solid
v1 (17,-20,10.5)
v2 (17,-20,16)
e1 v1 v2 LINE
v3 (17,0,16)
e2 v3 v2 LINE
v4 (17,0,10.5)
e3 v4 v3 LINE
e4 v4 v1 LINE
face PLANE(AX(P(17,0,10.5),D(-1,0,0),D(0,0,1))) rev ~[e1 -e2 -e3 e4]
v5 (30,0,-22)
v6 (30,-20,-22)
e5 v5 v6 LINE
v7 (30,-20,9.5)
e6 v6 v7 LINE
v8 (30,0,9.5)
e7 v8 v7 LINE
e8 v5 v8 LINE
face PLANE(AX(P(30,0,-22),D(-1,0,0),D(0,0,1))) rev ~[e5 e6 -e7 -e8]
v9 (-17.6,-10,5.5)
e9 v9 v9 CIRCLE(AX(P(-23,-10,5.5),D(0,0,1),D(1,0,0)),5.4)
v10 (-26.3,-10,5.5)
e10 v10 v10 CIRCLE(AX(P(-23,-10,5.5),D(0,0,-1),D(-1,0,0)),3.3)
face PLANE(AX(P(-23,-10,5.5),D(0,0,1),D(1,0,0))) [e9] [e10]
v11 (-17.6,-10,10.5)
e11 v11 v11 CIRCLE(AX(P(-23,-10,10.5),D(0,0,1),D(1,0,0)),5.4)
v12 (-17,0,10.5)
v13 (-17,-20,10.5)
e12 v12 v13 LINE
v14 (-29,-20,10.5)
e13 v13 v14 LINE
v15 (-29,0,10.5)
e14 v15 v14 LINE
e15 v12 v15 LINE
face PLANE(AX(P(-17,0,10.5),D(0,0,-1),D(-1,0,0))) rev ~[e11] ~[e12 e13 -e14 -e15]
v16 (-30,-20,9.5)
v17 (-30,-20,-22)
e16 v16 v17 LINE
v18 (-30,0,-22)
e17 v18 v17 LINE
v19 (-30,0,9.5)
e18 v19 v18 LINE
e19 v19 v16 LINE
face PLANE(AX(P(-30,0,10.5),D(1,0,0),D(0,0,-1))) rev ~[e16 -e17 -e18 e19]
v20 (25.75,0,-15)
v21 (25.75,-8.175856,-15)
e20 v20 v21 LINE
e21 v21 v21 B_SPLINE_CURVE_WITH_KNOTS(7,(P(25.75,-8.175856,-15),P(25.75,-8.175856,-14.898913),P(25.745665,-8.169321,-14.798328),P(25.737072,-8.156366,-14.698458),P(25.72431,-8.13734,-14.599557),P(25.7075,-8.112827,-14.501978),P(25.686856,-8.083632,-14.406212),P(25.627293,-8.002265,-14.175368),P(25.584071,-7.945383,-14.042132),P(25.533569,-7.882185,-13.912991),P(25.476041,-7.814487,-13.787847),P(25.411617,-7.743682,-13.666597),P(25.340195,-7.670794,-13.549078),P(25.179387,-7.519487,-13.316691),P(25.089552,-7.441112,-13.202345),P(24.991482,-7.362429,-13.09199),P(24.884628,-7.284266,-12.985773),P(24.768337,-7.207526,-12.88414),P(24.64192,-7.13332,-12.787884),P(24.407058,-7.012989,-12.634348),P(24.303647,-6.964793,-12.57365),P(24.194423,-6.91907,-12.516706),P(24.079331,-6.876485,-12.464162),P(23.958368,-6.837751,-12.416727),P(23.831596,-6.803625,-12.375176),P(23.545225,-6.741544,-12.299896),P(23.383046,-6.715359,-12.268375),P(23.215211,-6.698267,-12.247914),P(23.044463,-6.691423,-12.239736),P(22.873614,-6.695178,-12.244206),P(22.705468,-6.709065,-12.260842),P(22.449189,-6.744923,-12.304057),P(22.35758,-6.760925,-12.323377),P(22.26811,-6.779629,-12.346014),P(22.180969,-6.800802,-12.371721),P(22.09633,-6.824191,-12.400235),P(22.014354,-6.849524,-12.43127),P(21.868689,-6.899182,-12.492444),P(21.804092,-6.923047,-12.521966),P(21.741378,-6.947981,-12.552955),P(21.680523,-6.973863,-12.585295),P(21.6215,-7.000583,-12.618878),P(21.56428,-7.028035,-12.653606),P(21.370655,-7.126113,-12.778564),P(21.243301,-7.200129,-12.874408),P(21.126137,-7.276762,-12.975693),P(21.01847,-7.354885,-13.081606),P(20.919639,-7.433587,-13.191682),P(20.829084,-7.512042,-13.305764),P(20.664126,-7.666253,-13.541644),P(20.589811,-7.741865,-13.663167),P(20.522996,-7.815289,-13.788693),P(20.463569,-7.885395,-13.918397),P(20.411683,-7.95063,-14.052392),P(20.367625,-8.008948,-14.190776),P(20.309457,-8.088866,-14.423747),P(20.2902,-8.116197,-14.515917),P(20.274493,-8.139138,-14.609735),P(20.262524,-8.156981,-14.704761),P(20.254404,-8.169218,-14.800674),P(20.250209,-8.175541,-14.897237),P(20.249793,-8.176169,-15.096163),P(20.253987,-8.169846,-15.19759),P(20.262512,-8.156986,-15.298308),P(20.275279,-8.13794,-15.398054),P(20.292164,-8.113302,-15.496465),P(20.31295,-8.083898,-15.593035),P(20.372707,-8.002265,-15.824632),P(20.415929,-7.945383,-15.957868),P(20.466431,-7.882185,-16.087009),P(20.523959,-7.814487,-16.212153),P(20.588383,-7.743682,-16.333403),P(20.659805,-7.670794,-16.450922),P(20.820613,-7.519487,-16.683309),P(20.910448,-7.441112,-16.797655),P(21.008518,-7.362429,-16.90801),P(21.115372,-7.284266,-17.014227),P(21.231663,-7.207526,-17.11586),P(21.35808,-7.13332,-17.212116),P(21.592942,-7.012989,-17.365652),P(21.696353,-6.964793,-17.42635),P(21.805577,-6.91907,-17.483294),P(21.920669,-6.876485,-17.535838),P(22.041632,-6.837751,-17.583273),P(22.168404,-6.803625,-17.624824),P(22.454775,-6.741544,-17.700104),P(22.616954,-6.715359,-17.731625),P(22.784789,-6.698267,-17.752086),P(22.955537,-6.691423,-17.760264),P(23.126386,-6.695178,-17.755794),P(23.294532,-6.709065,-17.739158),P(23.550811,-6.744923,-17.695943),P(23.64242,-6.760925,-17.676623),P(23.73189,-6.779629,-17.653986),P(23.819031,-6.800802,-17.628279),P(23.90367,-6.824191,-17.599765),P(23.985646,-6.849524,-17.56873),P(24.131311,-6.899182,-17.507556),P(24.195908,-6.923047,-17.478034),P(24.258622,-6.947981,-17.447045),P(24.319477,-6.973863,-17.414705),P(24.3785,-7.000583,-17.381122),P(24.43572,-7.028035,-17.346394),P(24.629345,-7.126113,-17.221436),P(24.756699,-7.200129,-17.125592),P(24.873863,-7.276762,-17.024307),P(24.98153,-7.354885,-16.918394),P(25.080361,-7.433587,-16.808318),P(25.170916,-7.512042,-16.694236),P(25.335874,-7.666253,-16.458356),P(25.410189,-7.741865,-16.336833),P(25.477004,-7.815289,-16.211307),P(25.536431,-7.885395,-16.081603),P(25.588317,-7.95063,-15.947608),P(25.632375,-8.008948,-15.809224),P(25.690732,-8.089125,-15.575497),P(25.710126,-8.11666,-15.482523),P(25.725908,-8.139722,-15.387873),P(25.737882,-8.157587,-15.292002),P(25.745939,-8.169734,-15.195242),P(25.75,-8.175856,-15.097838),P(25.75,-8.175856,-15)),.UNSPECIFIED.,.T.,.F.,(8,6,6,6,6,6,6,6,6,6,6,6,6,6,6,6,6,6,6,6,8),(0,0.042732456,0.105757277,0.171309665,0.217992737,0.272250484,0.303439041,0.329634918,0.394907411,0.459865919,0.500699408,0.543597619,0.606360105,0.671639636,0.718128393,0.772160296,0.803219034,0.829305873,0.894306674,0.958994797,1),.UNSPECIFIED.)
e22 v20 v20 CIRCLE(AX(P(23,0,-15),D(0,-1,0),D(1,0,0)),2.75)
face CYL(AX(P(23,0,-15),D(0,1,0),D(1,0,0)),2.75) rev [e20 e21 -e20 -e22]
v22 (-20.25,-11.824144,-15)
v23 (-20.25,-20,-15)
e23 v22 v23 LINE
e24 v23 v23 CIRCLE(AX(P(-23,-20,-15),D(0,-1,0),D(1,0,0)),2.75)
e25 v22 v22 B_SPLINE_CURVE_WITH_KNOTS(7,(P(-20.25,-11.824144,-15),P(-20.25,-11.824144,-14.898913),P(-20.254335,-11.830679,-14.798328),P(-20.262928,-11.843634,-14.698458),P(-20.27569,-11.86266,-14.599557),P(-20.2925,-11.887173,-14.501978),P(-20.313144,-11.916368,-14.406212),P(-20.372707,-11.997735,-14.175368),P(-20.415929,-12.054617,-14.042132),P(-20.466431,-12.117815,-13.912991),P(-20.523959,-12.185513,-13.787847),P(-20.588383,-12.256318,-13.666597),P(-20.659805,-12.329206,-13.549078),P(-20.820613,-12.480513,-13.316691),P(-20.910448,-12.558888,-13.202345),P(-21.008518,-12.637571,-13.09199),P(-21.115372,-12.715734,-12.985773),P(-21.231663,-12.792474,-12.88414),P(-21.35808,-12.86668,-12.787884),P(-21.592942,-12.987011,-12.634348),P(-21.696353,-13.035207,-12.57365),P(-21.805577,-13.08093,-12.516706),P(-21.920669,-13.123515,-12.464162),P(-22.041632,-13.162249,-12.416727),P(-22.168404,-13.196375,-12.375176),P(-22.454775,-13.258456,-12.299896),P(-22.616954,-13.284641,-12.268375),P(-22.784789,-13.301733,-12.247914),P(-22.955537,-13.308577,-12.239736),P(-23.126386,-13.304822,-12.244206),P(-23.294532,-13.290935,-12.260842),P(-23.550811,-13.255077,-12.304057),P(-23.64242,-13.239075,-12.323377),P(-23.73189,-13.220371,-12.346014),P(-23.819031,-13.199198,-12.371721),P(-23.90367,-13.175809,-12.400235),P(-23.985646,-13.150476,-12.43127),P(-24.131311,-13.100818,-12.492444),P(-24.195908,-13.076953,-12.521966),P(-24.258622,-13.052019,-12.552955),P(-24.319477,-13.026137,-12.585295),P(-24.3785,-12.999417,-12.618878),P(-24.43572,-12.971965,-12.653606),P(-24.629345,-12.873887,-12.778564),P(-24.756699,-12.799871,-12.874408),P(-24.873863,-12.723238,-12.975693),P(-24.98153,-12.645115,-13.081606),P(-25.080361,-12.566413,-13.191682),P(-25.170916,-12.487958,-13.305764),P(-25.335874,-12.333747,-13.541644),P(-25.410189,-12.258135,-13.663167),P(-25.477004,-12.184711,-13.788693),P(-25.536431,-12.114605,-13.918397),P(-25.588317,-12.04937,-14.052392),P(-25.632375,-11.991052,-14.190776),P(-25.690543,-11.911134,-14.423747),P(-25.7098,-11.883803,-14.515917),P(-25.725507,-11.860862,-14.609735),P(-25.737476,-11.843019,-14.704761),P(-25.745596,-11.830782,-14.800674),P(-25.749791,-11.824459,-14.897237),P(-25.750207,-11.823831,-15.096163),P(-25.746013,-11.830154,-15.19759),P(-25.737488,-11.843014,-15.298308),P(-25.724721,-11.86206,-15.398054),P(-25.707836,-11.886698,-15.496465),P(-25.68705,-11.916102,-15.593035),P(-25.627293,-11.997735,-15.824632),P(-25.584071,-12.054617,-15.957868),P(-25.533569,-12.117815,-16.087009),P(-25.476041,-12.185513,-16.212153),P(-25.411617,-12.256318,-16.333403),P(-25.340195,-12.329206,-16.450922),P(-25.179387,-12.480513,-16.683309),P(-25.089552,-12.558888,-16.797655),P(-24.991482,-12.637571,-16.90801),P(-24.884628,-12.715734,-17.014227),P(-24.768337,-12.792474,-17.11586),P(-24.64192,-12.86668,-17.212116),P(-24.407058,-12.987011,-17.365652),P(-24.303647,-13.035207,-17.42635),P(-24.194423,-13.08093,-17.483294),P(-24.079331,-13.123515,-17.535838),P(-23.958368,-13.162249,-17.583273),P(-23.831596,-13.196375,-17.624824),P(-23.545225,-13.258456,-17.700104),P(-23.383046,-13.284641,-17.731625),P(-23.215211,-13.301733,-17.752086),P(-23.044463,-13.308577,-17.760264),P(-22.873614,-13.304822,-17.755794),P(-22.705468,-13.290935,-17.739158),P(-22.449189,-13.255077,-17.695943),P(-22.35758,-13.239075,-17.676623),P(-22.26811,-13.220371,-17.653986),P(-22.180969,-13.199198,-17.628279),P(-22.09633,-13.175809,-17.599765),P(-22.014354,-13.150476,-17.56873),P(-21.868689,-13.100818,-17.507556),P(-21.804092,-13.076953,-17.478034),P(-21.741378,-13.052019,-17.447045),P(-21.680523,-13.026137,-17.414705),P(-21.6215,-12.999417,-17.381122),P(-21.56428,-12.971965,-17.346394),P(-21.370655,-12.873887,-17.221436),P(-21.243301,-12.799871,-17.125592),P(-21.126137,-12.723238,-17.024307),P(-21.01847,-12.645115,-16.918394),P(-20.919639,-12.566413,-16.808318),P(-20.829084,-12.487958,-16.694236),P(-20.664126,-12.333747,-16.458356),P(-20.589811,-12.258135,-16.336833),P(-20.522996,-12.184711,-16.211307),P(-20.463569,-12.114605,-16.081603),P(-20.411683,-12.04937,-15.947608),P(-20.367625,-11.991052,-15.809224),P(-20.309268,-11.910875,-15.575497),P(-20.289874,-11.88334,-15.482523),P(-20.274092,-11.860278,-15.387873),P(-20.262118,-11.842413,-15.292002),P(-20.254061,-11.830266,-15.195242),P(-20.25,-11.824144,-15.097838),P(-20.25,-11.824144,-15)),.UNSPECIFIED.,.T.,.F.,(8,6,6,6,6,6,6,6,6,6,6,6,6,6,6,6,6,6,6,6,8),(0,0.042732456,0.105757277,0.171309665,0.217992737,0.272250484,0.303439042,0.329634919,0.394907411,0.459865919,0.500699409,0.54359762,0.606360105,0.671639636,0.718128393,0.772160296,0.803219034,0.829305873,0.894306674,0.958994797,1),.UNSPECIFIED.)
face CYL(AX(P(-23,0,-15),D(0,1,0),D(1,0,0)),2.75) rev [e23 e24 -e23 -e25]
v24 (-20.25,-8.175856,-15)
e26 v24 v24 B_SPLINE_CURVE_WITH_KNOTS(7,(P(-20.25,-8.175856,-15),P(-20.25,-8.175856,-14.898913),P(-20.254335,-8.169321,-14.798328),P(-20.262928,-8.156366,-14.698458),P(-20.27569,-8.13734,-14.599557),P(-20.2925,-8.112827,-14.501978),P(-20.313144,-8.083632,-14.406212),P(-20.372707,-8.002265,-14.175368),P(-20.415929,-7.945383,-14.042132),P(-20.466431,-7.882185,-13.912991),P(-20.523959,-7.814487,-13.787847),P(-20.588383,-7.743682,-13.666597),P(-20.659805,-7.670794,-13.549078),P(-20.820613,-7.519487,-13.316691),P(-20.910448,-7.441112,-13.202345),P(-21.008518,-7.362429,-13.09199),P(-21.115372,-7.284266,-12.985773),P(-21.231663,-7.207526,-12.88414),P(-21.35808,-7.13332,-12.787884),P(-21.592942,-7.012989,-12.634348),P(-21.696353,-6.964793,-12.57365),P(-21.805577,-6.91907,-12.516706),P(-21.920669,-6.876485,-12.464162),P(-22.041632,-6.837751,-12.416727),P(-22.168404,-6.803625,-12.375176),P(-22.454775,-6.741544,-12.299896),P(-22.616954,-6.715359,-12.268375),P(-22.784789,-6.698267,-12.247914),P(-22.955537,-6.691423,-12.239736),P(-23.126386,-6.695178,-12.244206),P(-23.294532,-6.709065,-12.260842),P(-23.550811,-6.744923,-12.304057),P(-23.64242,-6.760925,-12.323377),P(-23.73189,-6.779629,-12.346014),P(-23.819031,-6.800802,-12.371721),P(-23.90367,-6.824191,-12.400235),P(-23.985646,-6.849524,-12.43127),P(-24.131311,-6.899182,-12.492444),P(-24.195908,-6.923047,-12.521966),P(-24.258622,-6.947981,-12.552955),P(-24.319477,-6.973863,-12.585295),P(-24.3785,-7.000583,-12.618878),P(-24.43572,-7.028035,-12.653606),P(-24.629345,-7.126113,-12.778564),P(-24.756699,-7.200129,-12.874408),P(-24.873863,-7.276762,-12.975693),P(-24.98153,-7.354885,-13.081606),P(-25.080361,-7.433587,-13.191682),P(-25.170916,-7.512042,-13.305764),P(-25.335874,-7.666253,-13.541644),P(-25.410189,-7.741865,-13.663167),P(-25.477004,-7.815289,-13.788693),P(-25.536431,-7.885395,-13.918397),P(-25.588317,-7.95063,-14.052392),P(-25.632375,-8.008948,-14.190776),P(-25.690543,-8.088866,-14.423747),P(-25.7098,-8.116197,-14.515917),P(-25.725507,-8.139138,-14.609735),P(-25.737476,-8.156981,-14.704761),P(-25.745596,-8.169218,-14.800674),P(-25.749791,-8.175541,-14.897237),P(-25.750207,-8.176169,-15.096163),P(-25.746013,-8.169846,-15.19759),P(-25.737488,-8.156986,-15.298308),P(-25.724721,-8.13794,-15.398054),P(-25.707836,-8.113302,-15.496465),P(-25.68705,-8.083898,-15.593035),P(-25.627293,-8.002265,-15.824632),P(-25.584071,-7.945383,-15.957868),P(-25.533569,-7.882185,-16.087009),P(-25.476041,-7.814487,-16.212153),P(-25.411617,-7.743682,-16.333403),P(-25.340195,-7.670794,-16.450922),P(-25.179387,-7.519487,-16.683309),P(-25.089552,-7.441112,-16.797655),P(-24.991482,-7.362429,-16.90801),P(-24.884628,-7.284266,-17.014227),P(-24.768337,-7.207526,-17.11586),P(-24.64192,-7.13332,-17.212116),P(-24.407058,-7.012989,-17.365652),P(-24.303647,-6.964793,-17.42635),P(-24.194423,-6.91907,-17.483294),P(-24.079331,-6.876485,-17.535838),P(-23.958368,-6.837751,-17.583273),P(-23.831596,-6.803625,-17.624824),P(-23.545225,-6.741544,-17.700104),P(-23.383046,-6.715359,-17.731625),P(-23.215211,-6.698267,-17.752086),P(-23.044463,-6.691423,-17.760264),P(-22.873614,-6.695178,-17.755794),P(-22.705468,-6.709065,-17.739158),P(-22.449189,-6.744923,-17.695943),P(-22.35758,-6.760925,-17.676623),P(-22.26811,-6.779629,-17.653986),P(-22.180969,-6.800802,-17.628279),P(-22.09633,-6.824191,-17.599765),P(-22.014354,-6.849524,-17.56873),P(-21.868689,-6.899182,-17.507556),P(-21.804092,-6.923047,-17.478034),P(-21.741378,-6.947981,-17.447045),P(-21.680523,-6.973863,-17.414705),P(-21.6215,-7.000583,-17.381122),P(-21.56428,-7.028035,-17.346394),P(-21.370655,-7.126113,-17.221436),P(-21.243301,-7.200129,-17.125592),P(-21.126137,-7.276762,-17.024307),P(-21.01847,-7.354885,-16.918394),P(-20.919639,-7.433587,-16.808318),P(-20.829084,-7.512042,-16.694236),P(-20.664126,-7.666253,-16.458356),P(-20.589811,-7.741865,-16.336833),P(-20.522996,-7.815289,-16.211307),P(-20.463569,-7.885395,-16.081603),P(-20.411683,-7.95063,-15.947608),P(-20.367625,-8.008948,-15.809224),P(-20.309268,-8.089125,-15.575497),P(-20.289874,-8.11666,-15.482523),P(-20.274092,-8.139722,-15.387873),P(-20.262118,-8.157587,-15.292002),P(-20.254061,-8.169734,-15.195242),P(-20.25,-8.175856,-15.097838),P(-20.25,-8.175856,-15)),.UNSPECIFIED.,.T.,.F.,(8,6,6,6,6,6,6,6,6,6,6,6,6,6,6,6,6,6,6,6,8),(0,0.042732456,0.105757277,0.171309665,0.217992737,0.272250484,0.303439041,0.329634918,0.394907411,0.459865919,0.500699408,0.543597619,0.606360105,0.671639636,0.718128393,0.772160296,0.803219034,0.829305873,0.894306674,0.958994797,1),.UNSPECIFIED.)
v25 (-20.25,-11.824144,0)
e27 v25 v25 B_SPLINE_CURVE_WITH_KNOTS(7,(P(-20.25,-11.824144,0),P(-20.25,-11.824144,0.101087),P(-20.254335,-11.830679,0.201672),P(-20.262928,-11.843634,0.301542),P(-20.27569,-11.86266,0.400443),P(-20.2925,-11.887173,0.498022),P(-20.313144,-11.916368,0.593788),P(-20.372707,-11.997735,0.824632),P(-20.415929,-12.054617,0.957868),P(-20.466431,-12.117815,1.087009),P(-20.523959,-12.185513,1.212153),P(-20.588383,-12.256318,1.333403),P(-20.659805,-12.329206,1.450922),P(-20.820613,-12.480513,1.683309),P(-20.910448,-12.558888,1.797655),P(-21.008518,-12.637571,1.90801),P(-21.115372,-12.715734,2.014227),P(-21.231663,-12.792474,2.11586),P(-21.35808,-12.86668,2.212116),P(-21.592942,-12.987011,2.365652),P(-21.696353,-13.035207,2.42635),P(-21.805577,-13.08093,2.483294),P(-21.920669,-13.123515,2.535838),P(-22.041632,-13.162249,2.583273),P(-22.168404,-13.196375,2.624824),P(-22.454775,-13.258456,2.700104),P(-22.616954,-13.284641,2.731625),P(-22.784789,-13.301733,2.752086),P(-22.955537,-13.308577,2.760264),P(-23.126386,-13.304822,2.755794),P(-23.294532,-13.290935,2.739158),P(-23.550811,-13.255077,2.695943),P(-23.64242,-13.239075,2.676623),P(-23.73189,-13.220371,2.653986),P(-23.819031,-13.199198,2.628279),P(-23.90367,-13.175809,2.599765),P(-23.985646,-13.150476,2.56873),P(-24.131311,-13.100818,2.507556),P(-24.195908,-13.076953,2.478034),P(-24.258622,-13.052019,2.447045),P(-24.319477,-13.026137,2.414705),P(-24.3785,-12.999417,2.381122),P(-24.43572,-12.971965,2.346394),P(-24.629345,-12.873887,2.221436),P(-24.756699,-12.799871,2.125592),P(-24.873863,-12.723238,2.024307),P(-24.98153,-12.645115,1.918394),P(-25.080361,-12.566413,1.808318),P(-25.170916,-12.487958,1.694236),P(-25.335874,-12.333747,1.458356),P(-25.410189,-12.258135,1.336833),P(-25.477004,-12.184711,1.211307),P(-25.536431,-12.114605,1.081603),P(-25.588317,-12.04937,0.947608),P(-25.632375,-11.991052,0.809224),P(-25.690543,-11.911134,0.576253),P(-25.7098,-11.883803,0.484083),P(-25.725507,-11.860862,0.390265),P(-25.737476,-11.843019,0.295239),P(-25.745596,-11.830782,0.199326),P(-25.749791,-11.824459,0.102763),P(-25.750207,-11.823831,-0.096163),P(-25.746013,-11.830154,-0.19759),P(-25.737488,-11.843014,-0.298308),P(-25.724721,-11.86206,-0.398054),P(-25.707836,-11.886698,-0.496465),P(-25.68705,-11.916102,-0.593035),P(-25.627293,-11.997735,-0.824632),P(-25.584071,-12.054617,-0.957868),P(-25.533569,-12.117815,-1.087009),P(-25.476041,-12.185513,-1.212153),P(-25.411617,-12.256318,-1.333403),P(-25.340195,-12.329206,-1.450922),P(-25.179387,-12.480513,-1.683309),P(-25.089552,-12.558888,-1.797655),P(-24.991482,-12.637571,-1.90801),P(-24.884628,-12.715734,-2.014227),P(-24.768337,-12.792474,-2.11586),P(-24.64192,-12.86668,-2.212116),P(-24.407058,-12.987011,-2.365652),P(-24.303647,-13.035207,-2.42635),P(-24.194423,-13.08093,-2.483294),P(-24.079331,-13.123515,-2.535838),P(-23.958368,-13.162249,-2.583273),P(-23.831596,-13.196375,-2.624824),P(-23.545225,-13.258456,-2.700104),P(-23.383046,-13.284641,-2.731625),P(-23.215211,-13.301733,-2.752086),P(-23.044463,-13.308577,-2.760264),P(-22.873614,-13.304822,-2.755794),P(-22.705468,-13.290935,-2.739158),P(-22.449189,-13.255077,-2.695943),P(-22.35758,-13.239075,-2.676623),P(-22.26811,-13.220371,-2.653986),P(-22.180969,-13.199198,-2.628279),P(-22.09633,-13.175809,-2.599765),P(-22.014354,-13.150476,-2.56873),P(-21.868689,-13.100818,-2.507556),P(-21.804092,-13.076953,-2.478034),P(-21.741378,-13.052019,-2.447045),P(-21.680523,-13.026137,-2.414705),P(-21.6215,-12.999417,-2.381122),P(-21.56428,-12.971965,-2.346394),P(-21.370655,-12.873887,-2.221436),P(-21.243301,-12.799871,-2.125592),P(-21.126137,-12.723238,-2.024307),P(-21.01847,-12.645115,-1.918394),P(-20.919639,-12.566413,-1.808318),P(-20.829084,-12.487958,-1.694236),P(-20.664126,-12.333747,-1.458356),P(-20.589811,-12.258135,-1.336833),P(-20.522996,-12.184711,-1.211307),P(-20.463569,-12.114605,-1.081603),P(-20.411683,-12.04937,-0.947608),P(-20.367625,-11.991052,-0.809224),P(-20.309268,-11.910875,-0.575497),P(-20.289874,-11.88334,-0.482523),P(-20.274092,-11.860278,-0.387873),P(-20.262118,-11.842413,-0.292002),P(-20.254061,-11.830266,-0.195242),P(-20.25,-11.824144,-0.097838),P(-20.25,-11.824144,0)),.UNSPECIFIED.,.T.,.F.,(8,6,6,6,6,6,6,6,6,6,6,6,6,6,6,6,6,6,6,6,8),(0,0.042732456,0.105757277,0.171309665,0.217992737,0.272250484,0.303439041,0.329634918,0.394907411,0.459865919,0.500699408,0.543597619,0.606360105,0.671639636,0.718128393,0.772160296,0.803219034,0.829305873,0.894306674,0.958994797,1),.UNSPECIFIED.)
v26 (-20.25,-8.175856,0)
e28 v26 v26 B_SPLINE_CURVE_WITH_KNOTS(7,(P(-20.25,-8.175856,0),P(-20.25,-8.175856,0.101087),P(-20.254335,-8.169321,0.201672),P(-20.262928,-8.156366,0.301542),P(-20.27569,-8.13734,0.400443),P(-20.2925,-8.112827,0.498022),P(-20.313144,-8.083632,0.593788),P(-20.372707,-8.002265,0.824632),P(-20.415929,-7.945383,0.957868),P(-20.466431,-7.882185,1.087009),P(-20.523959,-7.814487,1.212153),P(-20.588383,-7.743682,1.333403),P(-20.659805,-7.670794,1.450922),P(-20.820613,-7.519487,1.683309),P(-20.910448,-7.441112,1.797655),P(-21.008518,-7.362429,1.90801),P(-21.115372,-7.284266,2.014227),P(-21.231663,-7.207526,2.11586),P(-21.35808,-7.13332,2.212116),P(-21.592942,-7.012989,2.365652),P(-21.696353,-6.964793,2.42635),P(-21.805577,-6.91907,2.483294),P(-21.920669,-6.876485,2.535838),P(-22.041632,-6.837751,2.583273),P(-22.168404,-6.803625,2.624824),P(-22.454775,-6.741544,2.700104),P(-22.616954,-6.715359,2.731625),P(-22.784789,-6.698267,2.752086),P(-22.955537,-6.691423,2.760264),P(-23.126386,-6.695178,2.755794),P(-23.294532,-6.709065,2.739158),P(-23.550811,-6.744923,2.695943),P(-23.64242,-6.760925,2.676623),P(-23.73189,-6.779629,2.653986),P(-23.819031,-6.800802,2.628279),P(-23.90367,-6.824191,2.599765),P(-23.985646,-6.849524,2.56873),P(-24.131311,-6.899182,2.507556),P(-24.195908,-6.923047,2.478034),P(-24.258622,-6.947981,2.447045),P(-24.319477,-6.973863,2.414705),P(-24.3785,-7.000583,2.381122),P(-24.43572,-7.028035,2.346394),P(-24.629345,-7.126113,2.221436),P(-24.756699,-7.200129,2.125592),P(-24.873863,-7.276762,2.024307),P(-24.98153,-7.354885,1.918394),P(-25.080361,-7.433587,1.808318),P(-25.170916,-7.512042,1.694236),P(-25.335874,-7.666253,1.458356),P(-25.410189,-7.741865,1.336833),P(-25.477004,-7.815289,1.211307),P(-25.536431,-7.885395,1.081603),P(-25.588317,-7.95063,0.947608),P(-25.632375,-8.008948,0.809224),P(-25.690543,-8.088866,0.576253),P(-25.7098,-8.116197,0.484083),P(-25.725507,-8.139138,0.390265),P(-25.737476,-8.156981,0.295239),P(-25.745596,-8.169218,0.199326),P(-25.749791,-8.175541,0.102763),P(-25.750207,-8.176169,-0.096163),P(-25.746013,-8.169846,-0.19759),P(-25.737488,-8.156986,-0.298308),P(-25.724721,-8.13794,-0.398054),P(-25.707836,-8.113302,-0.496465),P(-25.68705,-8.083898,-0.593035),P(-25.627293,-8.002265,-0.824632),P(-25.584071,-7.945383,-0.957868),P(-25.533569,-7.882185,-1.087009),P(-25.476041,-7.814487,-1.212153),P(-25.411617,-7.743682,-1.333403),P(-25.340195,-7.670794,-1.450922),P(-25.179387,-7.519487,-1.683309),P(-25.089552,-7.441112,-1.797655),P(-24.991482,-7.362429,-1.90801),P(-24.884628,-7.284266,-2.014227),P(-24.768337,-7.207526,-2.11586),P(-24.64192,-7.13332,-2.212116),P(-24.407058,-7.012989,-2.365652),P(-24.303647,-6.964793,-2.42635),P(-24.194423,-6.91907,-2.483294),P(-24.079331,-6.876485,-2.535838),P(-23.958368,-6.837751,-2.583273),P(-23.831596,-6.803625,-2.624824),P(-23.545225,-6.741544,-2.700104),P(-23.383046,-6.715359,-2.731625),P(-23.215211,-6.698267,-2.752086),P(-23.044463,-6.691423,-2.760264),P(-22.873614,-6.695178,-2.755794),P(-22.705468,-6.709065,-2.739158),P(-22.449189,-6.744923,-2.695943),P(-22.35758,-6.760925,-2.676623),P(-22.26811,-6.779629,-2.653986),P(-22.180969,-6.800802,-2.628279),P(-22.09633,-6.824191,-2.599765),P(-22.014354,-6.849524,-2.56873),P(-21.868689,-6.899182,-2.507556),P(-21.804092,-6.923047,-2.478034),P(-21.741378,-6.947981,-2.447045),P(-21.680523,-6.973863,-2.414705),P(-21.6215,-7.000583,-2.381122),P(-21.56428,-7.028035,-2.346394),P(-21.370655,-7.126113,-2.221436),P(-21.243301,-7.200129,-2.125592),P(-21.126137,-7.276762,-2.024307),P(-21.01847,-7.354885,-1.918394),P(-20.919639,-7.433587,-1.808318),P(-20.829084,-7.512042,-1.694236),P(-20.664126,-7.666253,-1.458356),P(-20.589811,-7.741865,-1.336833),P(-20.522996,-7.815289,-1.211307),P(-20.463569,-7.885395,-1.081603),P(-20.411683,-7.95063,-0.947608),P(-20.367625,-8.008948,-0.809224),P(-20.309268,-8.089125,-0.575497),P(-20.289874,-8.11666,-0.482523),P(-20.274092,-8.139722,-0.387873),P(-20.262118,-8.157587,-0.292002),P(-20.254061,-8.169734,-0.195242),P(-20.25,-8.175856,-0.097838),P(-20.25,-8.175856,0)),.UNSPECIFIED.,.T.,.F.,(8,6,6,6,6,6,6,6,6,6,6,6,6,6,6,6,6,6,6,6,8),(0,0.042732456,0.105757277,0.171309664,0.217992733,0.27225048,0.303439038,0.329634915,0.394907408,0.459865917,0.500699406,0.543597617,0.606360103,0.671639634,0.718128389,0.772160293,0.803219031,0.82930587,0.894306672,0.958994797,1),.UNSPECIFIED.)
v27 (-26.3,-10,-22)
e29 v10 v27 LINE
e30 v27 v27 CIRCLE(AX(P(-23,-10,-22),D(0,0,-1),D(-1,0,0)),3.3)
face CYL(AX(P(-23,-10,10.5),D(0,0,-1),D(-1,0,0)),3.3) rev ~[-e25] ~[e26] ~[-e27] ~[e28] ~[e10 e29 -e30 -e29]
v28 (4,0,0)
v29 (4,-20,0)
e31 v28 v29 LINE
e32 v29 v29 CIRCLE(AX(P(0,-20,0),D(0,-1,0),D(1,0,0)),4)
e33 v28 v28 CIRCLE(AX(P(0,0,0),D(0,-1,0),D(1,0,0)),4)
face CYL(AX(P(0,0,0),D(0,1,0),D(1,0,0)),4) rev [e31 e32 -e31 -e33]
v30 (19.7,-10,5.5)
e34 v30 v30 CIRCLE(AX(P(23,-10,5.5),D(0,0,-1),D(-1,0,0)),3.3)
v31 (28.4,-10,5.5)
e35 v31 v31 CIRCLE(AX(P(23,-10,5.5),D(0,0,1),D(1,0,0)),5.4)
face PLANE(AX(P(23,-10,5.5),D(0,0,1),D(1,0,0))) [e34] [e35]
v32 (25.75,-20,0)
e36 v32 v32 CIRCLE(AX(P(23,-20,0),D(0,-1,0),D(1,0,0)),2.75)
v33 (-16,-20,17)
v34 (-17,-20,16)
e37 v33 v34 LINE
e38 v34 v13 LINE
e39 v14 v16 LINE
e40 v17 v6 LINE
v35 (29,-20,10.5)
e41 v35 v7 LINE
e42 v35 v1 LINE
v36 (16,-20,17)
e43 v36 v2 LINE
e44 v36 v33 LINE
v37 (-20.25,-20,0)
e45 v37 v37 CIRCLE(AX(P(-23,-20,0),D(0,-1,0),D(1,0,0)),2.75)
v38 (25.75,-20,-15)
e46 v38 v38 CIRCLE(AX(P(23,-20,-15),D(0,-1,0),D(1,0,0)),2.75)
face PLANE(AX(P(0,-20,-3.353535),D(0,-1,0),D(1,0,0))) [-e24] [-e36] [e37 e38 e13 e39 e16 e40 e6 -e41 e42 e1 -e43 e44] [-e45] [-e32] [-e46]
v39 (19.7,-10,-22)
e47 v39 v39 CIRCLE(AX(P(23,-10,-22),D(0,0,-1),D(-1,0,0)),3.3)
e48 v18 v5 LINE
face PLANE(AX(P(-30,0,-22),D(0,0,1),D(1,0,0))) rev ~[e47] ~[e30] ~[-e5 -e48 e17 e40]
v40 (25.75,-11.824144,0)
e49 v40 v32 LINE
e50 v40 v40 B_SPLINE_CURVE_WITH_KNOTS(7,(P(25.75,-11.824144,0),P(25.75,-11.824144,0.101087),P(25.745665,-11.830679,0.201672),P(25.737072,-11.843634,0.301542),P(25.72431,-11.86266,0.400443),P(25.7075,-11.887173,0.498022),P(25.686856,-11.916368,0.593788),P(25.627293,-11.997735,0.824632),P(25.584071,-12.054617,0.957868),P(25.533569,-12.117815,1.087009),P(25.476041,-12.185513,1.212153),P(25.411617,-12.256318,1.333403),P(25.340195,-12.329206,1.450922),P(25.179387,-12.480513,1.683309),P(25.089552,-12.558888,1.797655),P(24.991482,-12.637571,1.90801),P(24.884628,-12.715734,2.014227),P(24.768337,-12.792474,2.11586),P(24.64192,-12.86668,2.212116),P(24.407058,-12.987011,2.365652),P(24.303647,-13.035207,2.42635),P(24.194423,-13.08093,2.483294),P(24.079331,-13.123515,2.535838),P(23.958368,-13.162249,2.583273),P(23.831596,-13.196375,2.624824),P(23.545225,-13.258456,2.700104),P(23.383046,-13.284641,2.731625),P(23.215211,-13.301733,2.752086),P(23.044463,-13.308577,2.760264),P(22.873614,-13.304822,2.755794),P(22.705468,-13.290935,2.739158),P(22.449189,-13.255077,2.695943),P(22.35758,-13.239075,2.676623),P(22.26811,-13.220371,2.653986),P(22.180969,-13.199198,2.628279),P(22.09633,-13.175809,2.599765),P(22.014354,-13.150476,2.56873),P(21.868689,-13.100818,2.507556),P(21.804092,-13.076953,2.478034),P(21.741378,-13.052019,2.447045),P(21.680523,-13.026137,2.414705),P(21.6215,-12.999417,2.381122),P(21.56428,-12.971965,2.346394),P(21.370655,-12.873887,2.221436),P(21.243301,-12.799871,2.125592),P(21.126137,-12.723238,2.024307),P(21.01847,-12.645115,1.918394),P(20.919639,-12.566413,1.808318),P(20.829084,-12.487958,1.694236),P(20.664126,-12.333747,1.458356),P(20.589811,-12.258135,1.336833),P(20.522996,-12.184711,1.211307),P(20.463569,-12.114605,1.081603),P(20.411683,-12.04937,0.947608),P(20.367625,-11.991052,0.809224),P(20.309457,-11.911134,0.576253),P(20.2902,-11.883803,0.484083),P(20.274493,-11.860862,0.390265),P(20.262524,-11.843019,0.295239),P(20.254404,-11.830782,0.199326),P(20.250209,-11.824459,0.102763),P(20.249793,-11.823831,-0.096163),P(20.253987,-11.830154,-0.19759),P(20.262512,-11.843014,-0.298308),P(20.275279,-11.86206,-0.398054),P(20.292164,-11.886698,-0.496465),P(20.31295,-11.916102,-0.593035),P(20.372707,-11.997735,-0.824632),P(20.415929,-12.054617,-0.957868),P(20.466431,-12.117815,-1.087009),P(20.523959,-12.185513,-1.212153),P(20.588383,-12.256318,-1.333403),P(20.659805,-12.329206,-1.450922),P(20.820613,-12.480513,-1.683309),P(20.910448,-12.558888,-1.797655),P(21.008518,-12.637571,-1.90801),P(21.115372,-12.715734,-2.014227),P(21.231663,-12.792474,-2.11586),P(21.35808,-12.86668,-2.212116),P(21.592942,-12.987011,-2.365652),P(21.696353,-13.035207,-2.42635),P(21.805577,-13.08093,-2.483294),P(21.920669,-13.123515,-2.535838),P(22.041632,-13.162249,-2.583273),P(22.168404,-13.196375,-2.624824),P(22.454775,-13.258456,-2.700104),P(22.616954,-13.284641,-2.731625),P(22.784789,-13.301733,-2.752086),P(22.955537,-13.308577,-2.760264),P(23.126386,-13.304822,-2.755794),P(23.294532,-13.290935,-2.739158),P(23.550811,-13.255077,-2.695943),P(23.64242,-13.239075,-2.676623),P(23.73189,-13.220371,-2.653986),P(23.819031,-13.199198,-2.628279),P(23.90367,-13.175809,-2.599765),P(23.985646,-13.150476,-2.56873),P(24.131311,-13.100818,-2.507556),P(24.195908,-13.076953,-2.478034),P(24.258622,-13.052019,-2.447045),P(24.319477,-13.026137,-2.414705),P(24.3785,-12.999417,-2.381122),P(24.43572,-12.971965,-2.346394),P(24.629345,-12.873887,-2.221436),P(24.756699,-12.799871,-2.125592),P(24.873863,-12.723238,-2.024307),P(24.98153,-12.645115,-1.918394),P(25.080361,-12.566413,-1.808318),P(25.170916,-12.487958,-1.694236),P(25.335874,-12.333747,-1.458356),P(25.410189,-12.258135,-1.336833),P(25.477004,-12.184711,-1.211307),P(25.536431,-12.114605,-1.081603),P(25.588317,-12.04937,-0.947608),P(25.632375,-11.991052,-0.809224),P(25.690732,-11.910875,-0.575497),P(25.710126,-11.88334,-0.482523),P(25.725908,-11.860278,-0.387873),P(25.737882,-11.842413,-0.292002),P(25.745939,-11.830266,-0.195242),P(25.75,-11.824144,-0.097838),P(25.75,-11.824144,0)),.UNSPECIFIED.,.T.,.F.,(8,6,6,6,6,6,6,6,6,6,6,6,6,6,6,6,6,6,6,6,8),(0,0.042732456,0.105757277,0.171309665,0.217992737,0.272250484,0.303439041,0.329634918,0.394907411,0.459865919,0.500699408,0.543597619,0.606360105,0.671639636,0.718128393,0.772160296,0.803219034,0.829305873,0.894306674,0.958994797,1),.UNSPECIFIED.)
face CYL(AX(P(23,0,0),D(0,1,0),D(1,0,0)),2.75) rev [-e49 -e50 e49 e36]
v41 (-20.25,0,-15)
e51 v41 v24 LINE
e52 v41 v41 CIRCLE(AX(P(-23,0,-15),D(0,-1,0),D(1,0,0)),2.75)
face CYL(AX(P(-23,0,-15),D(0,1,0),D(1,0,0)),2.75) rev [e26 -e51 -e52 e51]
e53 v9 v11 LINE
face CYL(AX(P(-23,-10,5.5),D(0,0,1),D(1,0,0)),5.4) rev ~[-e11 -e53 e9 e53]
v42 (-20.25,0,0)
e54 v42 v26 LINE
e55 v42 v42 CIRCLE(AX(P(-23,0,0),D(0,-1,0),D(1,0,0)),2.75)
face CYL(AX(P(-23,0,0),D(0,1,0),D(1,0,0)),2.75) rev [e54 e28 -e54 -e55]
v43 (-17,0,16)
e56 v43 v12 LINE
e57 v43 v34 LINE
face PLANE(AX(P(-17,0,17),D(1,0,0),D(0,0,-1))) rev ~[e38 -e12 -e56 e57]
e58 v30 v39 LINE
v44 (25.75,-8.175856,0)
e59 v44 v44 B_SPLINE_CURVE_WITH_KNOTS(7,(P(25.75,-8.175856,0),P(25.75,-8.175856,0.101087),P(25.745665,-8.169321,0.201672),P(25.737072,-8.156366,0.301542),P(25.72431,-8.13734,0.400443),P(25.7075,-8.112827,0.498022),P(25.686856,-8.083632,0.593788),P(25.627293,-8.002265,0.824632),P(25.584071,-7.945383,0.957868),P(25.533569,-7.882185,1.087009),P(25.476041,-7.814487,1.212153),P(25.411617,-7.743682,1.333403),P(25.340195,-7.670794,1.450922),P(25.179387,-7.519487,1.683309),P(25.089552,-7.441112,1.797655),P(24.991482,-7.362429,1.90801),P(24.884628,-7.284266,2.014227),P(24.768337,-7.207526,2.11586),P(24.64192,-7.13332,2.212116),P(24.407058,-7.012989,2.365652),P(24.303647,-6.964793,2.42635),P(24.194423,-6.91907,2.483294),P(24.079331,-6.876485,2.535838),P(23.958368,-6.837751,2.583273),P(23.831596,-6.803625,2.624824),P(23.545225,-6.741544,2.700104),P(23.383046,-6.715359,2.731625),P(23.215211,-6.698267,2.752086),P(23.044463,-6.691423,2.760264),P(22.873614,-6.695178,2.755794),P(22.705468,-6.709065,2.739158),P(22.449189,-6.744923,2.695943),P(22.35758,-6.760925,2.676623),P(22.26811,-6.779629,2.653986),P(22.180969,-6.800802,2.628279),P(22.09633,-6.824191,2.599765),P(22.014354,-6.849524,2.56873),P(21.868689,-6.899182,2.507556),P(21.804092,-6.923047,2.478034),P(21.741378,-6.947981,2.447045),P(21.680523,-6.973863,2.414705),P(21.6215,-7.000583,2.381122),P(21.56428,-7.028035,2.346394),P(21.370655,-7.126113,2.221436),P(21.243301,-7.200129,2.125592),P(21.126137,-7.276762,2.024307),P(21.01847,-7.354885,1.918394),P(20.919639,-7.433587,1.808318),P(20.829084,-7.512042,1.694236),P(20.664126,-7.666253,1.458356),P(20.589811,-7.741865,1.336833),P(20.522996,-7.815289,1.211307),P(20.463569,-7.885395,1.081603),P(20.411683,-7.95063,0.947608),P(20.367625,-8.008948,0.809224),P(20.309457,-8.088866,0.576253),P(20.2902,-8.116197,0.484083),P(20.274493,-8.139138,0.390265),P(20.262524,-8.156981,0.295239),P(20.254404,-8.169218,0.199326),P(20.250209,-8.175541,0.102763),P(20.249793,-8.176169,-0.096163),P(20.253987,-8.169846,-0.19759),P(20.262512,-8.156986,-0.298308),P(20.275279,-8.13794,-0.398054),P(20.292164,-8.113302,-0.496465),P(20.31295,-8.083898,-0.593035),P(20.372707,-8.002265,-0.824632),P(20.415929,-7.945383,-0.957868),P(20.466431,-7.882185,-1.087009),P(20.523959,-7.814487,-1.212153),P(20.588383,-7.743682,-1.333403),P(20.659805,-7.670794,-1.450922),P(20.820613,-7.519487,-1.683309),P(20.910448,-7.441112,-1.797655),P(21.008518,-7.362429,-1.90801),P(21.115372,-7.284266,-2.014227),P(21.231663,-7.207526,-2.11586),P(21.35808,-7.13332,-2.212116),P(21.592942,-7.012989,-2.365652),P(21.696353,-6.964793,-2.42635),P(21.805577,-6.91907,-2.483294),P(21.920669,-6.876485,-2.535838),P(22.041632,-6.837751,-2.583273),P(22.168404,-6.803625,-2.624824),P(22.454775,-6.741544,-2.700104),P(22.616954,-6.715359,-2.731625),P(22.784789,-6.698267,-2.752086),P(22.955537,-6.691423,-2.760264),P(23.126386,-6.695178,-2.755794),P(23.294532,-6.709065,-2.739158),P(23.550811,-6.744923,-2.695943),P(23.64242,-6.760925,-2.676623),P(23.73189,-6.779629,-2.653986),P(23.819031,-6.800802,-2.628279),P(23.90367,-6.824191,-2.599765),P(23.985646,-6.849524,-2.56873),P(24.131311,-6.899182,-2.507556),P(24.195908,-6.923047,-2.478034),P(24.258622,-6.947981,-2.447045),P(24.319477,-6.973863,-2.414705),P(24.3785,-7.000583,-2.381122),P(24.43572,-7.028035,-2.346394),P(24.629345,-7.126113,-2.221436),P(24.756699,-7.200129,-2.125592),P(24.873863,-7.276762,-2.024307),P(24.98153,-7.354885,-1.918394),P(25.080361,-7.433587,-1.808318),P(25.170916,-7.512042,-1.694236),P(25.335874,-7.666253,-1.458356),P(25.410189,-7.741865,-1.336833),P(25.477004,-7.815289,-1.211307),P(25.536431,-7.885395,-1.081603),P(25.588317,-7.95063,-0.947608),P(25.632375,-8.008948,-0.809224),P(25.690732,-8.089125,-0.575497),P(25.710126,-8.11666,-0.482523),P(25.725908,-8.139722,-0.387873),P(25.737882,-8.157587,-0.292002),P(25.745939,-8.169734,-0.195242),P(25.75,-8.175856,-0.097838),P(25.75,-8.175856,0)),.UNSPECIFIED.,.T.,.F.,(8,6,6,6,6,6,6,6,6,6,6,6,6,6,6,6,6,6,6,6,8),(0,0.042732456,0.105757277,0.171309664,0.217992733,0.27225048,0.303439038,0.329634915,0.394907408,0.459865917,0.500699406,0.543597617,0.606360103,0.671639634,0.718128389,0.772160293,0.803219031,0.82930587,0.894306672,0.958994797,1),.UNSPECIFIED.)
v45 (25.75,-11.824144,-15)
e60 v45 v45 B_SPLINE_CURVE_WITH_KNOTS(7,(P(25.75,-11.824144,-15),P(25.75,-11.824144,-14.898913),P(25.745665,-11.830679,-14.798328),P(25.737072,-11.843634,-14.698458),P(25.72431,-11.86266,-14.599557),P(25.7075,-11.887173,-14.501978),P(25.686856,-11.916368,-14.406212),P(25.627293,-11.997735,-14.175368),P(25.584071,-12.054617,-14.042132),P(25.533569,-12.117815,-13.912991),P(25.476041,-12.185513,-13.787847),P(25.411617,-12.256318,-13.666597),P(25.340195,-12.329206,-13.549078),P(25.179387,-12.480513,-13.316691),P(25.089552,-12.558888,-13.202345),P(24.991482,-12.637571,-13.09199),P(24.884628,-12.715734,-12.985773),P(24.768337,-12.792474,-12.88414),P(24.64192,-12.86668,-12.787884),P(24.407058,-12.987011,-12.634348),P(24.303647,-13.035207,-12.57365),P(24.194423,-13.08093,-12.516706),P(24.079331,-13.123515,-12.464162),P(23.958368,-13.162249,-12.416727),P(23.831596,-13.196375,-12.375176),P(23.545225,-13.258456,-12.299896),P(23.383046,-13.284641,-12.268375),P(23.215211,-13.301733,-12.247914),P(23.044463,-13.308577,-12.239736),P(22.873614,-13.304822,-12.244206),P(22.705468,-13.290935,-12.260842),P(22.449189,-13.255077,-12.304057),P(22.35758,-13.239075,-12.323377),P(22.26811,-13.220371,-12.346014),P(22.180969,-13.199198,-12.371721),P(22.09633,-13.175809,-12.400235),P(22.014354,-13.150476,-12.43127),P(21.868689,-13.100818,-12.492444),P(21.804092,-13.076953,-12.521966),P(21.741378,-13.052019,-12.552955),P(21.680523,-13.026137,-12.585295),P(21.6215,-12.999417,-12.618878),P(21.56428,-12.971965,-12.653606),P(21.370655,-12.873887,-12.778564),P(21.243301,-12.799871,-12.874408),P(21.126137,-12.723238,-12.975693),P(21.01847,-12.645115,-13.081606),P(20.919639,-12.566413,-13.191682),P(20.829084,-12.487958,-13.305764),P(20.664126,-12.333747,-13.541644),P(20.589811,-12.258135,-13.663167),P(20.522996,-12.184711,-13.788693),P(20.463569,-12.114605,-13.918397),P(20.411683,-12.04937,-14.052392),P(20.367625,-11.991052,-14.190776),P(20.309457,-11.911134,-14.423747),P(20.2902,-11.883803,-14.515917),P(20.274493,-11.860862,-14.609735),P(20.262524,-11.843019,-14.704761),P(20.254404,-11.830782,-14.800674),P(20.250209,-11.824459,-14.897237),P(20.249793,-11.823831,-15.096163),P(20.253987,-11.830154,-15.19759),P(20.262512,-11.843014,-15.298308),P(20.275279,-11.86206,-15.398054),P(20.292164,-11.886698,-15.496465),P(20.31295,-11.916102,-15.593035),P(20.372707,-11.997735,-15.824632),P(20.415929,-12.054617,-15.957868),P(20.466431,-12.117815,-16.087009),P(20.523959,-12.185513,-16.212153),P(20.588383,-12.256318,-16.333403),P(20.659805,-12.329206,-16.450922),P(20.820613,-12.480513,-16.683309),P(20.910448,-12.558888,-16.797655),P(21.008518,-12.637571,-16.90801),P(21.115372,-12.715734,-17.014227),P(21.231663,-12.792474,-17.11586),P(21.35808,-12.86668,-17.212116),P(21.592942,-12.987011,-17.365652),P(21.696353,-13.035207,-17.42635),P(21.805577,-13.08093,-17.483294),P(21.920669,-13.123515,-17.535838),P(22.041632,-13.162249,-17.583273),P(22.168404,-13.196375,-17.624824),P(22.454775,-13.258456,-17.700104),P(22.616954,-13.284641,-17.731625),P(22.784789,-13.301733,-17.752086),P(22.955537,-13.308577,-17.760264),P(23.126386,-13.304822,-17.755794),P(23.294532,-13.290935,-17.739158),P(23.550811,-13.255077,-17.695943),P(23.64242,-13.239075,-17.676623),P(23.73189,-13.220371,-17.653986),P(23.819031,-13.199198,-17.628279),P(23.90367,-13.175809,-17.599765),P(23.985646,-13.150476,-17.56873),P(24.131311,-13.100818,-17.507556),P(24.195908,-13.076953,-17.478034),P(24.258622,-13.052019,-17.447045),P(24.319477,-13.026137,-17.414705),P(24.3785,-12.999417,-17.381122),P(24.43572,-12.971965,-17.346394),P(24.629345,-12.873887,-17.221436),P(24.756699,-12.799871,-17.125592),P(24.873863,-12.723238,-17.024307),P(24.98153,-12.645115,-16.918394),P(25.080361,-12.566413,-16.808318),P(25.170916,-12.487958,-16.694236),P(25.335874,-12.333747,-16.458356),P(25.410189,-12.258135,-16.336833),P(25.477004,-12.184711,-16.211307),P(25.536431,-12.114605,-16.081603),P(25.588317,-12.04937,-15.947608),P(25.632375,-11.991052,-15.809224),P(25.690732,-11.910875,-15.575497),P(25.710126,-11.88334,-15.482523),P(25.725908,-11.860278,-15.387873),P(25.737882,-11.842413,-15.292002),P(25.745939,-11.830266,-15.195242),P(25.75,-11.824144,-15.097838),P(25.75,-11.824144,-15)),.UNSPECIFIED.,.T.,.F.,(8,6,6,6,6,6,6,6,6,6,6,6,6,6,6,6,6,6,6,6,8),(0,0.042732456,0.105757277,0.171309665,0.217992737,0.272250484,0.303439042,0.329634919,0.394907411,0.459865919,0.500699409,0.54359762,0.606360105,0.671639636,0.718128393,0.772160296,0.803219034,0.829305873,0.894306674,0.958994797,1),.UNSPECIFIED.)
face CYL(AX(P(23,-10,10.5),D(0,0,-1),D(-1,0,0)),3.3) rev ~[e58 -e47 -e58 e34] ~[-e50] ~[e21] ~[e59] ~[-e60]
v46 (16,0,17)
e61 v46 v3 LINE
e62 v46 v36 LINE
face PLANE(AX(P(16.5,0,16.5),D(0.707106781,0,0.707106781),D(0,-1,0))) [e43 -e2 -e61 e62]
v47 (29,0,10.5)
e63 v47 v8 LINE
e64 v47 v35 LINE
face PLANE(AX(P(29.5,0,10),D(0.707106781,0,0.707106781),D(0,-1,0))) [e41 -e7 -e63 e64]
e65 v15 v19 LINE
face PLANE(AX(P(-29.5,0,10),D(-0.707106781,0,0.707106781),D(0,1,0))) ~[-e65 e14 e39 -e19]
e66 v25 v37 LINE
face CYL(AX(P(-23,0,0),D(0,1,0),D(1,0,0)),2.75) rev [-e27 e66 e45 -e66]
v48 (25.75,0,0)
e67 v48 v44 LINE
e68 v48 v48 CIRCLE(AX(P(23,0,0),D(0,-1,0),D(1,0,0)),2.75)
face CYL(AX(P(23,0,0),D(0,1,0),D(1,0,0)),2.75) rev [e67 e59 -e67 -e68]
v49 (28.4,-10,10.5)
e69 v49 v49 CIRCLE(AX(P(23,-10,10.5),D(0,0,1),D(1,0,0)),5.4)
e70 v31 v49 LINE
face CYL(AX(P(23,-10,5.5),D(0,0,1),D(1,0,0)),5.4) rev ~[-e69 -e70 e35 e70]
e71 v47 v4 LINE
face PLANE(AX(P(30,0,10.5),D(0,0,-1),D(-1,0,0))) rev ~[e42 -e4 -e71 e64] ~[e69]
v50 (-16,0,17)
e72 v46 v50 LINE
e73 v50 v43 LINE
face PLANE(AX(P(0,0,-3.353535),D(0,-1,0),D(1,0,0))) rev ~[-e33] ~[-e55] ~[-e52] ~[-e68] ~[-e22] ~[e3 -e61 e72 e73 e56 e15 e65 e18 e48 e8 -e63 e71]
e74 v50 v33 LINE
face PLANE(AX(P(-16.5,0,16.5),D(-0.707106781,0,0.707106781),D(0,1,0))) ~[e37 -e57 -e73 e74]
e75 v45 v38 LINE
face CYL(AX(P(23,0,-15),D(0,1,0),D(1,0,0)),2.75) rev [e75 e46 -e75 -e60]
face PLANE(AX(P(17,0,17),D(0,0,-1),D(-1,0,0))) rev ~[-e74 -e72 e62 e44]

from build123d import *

# Parameters (mm, degrees)
F0_R           = 2.75
F0_R_2         = 4
F1_DEPTH       = 20
F2_SIZE        = 1
F4_D           = 6.6
F4_CBORE_D     = 10.8
F4_CBORE_DEPTH = 5


with BuildPart() as f1:
    # F0 (on Front) → F1 (new body)
    with BuildSketch(Plane.XZ):
        Polygon((17, 17), (-17, 17), (-17, 10.5), (-30, 10.5), (-30, -22), (30, -22), (30, 10.5), (17, 10.5), align=None)
        with Locations((-23, -15)):
            Circle(F0_R, mode=Mode.SUBTRACT)
        with Locations((23, -15)):
            Circle(F0_R, mode=Mode.SUBTRACT)
        with Locations((-23, 0)):
            Circle(F0_R, mode=Mode.SUBTRACT)
        Circle(F0_R_2, mode=Mode.SUBTRACT)
        with Locations((23, 0)):
            Circle(F0_R, mode=Mode.SUBTRACT)
    extrude(amount=F1_DEPTH)

    # F2
    f2_edges = [f1.edges().sort_by_distance(p)[0] for p in [
        (17, -10, 17),
        (-17, -10, 17),
        (30, -10, 10.5),
        (-30, -10, 10.5),
    ]]
    chamfer(f2_edges, length=F2_SIZE)

    # F4 (through all)
    with Locations(Plane.XY.offset(10.5)):
        with Locations((-23, -10), (23, -10)):
            CounterBoreHole(F4_D / 2, F4_CBORE_D / 2, F4_CBORE_DEPTH)


solid = f1.part
